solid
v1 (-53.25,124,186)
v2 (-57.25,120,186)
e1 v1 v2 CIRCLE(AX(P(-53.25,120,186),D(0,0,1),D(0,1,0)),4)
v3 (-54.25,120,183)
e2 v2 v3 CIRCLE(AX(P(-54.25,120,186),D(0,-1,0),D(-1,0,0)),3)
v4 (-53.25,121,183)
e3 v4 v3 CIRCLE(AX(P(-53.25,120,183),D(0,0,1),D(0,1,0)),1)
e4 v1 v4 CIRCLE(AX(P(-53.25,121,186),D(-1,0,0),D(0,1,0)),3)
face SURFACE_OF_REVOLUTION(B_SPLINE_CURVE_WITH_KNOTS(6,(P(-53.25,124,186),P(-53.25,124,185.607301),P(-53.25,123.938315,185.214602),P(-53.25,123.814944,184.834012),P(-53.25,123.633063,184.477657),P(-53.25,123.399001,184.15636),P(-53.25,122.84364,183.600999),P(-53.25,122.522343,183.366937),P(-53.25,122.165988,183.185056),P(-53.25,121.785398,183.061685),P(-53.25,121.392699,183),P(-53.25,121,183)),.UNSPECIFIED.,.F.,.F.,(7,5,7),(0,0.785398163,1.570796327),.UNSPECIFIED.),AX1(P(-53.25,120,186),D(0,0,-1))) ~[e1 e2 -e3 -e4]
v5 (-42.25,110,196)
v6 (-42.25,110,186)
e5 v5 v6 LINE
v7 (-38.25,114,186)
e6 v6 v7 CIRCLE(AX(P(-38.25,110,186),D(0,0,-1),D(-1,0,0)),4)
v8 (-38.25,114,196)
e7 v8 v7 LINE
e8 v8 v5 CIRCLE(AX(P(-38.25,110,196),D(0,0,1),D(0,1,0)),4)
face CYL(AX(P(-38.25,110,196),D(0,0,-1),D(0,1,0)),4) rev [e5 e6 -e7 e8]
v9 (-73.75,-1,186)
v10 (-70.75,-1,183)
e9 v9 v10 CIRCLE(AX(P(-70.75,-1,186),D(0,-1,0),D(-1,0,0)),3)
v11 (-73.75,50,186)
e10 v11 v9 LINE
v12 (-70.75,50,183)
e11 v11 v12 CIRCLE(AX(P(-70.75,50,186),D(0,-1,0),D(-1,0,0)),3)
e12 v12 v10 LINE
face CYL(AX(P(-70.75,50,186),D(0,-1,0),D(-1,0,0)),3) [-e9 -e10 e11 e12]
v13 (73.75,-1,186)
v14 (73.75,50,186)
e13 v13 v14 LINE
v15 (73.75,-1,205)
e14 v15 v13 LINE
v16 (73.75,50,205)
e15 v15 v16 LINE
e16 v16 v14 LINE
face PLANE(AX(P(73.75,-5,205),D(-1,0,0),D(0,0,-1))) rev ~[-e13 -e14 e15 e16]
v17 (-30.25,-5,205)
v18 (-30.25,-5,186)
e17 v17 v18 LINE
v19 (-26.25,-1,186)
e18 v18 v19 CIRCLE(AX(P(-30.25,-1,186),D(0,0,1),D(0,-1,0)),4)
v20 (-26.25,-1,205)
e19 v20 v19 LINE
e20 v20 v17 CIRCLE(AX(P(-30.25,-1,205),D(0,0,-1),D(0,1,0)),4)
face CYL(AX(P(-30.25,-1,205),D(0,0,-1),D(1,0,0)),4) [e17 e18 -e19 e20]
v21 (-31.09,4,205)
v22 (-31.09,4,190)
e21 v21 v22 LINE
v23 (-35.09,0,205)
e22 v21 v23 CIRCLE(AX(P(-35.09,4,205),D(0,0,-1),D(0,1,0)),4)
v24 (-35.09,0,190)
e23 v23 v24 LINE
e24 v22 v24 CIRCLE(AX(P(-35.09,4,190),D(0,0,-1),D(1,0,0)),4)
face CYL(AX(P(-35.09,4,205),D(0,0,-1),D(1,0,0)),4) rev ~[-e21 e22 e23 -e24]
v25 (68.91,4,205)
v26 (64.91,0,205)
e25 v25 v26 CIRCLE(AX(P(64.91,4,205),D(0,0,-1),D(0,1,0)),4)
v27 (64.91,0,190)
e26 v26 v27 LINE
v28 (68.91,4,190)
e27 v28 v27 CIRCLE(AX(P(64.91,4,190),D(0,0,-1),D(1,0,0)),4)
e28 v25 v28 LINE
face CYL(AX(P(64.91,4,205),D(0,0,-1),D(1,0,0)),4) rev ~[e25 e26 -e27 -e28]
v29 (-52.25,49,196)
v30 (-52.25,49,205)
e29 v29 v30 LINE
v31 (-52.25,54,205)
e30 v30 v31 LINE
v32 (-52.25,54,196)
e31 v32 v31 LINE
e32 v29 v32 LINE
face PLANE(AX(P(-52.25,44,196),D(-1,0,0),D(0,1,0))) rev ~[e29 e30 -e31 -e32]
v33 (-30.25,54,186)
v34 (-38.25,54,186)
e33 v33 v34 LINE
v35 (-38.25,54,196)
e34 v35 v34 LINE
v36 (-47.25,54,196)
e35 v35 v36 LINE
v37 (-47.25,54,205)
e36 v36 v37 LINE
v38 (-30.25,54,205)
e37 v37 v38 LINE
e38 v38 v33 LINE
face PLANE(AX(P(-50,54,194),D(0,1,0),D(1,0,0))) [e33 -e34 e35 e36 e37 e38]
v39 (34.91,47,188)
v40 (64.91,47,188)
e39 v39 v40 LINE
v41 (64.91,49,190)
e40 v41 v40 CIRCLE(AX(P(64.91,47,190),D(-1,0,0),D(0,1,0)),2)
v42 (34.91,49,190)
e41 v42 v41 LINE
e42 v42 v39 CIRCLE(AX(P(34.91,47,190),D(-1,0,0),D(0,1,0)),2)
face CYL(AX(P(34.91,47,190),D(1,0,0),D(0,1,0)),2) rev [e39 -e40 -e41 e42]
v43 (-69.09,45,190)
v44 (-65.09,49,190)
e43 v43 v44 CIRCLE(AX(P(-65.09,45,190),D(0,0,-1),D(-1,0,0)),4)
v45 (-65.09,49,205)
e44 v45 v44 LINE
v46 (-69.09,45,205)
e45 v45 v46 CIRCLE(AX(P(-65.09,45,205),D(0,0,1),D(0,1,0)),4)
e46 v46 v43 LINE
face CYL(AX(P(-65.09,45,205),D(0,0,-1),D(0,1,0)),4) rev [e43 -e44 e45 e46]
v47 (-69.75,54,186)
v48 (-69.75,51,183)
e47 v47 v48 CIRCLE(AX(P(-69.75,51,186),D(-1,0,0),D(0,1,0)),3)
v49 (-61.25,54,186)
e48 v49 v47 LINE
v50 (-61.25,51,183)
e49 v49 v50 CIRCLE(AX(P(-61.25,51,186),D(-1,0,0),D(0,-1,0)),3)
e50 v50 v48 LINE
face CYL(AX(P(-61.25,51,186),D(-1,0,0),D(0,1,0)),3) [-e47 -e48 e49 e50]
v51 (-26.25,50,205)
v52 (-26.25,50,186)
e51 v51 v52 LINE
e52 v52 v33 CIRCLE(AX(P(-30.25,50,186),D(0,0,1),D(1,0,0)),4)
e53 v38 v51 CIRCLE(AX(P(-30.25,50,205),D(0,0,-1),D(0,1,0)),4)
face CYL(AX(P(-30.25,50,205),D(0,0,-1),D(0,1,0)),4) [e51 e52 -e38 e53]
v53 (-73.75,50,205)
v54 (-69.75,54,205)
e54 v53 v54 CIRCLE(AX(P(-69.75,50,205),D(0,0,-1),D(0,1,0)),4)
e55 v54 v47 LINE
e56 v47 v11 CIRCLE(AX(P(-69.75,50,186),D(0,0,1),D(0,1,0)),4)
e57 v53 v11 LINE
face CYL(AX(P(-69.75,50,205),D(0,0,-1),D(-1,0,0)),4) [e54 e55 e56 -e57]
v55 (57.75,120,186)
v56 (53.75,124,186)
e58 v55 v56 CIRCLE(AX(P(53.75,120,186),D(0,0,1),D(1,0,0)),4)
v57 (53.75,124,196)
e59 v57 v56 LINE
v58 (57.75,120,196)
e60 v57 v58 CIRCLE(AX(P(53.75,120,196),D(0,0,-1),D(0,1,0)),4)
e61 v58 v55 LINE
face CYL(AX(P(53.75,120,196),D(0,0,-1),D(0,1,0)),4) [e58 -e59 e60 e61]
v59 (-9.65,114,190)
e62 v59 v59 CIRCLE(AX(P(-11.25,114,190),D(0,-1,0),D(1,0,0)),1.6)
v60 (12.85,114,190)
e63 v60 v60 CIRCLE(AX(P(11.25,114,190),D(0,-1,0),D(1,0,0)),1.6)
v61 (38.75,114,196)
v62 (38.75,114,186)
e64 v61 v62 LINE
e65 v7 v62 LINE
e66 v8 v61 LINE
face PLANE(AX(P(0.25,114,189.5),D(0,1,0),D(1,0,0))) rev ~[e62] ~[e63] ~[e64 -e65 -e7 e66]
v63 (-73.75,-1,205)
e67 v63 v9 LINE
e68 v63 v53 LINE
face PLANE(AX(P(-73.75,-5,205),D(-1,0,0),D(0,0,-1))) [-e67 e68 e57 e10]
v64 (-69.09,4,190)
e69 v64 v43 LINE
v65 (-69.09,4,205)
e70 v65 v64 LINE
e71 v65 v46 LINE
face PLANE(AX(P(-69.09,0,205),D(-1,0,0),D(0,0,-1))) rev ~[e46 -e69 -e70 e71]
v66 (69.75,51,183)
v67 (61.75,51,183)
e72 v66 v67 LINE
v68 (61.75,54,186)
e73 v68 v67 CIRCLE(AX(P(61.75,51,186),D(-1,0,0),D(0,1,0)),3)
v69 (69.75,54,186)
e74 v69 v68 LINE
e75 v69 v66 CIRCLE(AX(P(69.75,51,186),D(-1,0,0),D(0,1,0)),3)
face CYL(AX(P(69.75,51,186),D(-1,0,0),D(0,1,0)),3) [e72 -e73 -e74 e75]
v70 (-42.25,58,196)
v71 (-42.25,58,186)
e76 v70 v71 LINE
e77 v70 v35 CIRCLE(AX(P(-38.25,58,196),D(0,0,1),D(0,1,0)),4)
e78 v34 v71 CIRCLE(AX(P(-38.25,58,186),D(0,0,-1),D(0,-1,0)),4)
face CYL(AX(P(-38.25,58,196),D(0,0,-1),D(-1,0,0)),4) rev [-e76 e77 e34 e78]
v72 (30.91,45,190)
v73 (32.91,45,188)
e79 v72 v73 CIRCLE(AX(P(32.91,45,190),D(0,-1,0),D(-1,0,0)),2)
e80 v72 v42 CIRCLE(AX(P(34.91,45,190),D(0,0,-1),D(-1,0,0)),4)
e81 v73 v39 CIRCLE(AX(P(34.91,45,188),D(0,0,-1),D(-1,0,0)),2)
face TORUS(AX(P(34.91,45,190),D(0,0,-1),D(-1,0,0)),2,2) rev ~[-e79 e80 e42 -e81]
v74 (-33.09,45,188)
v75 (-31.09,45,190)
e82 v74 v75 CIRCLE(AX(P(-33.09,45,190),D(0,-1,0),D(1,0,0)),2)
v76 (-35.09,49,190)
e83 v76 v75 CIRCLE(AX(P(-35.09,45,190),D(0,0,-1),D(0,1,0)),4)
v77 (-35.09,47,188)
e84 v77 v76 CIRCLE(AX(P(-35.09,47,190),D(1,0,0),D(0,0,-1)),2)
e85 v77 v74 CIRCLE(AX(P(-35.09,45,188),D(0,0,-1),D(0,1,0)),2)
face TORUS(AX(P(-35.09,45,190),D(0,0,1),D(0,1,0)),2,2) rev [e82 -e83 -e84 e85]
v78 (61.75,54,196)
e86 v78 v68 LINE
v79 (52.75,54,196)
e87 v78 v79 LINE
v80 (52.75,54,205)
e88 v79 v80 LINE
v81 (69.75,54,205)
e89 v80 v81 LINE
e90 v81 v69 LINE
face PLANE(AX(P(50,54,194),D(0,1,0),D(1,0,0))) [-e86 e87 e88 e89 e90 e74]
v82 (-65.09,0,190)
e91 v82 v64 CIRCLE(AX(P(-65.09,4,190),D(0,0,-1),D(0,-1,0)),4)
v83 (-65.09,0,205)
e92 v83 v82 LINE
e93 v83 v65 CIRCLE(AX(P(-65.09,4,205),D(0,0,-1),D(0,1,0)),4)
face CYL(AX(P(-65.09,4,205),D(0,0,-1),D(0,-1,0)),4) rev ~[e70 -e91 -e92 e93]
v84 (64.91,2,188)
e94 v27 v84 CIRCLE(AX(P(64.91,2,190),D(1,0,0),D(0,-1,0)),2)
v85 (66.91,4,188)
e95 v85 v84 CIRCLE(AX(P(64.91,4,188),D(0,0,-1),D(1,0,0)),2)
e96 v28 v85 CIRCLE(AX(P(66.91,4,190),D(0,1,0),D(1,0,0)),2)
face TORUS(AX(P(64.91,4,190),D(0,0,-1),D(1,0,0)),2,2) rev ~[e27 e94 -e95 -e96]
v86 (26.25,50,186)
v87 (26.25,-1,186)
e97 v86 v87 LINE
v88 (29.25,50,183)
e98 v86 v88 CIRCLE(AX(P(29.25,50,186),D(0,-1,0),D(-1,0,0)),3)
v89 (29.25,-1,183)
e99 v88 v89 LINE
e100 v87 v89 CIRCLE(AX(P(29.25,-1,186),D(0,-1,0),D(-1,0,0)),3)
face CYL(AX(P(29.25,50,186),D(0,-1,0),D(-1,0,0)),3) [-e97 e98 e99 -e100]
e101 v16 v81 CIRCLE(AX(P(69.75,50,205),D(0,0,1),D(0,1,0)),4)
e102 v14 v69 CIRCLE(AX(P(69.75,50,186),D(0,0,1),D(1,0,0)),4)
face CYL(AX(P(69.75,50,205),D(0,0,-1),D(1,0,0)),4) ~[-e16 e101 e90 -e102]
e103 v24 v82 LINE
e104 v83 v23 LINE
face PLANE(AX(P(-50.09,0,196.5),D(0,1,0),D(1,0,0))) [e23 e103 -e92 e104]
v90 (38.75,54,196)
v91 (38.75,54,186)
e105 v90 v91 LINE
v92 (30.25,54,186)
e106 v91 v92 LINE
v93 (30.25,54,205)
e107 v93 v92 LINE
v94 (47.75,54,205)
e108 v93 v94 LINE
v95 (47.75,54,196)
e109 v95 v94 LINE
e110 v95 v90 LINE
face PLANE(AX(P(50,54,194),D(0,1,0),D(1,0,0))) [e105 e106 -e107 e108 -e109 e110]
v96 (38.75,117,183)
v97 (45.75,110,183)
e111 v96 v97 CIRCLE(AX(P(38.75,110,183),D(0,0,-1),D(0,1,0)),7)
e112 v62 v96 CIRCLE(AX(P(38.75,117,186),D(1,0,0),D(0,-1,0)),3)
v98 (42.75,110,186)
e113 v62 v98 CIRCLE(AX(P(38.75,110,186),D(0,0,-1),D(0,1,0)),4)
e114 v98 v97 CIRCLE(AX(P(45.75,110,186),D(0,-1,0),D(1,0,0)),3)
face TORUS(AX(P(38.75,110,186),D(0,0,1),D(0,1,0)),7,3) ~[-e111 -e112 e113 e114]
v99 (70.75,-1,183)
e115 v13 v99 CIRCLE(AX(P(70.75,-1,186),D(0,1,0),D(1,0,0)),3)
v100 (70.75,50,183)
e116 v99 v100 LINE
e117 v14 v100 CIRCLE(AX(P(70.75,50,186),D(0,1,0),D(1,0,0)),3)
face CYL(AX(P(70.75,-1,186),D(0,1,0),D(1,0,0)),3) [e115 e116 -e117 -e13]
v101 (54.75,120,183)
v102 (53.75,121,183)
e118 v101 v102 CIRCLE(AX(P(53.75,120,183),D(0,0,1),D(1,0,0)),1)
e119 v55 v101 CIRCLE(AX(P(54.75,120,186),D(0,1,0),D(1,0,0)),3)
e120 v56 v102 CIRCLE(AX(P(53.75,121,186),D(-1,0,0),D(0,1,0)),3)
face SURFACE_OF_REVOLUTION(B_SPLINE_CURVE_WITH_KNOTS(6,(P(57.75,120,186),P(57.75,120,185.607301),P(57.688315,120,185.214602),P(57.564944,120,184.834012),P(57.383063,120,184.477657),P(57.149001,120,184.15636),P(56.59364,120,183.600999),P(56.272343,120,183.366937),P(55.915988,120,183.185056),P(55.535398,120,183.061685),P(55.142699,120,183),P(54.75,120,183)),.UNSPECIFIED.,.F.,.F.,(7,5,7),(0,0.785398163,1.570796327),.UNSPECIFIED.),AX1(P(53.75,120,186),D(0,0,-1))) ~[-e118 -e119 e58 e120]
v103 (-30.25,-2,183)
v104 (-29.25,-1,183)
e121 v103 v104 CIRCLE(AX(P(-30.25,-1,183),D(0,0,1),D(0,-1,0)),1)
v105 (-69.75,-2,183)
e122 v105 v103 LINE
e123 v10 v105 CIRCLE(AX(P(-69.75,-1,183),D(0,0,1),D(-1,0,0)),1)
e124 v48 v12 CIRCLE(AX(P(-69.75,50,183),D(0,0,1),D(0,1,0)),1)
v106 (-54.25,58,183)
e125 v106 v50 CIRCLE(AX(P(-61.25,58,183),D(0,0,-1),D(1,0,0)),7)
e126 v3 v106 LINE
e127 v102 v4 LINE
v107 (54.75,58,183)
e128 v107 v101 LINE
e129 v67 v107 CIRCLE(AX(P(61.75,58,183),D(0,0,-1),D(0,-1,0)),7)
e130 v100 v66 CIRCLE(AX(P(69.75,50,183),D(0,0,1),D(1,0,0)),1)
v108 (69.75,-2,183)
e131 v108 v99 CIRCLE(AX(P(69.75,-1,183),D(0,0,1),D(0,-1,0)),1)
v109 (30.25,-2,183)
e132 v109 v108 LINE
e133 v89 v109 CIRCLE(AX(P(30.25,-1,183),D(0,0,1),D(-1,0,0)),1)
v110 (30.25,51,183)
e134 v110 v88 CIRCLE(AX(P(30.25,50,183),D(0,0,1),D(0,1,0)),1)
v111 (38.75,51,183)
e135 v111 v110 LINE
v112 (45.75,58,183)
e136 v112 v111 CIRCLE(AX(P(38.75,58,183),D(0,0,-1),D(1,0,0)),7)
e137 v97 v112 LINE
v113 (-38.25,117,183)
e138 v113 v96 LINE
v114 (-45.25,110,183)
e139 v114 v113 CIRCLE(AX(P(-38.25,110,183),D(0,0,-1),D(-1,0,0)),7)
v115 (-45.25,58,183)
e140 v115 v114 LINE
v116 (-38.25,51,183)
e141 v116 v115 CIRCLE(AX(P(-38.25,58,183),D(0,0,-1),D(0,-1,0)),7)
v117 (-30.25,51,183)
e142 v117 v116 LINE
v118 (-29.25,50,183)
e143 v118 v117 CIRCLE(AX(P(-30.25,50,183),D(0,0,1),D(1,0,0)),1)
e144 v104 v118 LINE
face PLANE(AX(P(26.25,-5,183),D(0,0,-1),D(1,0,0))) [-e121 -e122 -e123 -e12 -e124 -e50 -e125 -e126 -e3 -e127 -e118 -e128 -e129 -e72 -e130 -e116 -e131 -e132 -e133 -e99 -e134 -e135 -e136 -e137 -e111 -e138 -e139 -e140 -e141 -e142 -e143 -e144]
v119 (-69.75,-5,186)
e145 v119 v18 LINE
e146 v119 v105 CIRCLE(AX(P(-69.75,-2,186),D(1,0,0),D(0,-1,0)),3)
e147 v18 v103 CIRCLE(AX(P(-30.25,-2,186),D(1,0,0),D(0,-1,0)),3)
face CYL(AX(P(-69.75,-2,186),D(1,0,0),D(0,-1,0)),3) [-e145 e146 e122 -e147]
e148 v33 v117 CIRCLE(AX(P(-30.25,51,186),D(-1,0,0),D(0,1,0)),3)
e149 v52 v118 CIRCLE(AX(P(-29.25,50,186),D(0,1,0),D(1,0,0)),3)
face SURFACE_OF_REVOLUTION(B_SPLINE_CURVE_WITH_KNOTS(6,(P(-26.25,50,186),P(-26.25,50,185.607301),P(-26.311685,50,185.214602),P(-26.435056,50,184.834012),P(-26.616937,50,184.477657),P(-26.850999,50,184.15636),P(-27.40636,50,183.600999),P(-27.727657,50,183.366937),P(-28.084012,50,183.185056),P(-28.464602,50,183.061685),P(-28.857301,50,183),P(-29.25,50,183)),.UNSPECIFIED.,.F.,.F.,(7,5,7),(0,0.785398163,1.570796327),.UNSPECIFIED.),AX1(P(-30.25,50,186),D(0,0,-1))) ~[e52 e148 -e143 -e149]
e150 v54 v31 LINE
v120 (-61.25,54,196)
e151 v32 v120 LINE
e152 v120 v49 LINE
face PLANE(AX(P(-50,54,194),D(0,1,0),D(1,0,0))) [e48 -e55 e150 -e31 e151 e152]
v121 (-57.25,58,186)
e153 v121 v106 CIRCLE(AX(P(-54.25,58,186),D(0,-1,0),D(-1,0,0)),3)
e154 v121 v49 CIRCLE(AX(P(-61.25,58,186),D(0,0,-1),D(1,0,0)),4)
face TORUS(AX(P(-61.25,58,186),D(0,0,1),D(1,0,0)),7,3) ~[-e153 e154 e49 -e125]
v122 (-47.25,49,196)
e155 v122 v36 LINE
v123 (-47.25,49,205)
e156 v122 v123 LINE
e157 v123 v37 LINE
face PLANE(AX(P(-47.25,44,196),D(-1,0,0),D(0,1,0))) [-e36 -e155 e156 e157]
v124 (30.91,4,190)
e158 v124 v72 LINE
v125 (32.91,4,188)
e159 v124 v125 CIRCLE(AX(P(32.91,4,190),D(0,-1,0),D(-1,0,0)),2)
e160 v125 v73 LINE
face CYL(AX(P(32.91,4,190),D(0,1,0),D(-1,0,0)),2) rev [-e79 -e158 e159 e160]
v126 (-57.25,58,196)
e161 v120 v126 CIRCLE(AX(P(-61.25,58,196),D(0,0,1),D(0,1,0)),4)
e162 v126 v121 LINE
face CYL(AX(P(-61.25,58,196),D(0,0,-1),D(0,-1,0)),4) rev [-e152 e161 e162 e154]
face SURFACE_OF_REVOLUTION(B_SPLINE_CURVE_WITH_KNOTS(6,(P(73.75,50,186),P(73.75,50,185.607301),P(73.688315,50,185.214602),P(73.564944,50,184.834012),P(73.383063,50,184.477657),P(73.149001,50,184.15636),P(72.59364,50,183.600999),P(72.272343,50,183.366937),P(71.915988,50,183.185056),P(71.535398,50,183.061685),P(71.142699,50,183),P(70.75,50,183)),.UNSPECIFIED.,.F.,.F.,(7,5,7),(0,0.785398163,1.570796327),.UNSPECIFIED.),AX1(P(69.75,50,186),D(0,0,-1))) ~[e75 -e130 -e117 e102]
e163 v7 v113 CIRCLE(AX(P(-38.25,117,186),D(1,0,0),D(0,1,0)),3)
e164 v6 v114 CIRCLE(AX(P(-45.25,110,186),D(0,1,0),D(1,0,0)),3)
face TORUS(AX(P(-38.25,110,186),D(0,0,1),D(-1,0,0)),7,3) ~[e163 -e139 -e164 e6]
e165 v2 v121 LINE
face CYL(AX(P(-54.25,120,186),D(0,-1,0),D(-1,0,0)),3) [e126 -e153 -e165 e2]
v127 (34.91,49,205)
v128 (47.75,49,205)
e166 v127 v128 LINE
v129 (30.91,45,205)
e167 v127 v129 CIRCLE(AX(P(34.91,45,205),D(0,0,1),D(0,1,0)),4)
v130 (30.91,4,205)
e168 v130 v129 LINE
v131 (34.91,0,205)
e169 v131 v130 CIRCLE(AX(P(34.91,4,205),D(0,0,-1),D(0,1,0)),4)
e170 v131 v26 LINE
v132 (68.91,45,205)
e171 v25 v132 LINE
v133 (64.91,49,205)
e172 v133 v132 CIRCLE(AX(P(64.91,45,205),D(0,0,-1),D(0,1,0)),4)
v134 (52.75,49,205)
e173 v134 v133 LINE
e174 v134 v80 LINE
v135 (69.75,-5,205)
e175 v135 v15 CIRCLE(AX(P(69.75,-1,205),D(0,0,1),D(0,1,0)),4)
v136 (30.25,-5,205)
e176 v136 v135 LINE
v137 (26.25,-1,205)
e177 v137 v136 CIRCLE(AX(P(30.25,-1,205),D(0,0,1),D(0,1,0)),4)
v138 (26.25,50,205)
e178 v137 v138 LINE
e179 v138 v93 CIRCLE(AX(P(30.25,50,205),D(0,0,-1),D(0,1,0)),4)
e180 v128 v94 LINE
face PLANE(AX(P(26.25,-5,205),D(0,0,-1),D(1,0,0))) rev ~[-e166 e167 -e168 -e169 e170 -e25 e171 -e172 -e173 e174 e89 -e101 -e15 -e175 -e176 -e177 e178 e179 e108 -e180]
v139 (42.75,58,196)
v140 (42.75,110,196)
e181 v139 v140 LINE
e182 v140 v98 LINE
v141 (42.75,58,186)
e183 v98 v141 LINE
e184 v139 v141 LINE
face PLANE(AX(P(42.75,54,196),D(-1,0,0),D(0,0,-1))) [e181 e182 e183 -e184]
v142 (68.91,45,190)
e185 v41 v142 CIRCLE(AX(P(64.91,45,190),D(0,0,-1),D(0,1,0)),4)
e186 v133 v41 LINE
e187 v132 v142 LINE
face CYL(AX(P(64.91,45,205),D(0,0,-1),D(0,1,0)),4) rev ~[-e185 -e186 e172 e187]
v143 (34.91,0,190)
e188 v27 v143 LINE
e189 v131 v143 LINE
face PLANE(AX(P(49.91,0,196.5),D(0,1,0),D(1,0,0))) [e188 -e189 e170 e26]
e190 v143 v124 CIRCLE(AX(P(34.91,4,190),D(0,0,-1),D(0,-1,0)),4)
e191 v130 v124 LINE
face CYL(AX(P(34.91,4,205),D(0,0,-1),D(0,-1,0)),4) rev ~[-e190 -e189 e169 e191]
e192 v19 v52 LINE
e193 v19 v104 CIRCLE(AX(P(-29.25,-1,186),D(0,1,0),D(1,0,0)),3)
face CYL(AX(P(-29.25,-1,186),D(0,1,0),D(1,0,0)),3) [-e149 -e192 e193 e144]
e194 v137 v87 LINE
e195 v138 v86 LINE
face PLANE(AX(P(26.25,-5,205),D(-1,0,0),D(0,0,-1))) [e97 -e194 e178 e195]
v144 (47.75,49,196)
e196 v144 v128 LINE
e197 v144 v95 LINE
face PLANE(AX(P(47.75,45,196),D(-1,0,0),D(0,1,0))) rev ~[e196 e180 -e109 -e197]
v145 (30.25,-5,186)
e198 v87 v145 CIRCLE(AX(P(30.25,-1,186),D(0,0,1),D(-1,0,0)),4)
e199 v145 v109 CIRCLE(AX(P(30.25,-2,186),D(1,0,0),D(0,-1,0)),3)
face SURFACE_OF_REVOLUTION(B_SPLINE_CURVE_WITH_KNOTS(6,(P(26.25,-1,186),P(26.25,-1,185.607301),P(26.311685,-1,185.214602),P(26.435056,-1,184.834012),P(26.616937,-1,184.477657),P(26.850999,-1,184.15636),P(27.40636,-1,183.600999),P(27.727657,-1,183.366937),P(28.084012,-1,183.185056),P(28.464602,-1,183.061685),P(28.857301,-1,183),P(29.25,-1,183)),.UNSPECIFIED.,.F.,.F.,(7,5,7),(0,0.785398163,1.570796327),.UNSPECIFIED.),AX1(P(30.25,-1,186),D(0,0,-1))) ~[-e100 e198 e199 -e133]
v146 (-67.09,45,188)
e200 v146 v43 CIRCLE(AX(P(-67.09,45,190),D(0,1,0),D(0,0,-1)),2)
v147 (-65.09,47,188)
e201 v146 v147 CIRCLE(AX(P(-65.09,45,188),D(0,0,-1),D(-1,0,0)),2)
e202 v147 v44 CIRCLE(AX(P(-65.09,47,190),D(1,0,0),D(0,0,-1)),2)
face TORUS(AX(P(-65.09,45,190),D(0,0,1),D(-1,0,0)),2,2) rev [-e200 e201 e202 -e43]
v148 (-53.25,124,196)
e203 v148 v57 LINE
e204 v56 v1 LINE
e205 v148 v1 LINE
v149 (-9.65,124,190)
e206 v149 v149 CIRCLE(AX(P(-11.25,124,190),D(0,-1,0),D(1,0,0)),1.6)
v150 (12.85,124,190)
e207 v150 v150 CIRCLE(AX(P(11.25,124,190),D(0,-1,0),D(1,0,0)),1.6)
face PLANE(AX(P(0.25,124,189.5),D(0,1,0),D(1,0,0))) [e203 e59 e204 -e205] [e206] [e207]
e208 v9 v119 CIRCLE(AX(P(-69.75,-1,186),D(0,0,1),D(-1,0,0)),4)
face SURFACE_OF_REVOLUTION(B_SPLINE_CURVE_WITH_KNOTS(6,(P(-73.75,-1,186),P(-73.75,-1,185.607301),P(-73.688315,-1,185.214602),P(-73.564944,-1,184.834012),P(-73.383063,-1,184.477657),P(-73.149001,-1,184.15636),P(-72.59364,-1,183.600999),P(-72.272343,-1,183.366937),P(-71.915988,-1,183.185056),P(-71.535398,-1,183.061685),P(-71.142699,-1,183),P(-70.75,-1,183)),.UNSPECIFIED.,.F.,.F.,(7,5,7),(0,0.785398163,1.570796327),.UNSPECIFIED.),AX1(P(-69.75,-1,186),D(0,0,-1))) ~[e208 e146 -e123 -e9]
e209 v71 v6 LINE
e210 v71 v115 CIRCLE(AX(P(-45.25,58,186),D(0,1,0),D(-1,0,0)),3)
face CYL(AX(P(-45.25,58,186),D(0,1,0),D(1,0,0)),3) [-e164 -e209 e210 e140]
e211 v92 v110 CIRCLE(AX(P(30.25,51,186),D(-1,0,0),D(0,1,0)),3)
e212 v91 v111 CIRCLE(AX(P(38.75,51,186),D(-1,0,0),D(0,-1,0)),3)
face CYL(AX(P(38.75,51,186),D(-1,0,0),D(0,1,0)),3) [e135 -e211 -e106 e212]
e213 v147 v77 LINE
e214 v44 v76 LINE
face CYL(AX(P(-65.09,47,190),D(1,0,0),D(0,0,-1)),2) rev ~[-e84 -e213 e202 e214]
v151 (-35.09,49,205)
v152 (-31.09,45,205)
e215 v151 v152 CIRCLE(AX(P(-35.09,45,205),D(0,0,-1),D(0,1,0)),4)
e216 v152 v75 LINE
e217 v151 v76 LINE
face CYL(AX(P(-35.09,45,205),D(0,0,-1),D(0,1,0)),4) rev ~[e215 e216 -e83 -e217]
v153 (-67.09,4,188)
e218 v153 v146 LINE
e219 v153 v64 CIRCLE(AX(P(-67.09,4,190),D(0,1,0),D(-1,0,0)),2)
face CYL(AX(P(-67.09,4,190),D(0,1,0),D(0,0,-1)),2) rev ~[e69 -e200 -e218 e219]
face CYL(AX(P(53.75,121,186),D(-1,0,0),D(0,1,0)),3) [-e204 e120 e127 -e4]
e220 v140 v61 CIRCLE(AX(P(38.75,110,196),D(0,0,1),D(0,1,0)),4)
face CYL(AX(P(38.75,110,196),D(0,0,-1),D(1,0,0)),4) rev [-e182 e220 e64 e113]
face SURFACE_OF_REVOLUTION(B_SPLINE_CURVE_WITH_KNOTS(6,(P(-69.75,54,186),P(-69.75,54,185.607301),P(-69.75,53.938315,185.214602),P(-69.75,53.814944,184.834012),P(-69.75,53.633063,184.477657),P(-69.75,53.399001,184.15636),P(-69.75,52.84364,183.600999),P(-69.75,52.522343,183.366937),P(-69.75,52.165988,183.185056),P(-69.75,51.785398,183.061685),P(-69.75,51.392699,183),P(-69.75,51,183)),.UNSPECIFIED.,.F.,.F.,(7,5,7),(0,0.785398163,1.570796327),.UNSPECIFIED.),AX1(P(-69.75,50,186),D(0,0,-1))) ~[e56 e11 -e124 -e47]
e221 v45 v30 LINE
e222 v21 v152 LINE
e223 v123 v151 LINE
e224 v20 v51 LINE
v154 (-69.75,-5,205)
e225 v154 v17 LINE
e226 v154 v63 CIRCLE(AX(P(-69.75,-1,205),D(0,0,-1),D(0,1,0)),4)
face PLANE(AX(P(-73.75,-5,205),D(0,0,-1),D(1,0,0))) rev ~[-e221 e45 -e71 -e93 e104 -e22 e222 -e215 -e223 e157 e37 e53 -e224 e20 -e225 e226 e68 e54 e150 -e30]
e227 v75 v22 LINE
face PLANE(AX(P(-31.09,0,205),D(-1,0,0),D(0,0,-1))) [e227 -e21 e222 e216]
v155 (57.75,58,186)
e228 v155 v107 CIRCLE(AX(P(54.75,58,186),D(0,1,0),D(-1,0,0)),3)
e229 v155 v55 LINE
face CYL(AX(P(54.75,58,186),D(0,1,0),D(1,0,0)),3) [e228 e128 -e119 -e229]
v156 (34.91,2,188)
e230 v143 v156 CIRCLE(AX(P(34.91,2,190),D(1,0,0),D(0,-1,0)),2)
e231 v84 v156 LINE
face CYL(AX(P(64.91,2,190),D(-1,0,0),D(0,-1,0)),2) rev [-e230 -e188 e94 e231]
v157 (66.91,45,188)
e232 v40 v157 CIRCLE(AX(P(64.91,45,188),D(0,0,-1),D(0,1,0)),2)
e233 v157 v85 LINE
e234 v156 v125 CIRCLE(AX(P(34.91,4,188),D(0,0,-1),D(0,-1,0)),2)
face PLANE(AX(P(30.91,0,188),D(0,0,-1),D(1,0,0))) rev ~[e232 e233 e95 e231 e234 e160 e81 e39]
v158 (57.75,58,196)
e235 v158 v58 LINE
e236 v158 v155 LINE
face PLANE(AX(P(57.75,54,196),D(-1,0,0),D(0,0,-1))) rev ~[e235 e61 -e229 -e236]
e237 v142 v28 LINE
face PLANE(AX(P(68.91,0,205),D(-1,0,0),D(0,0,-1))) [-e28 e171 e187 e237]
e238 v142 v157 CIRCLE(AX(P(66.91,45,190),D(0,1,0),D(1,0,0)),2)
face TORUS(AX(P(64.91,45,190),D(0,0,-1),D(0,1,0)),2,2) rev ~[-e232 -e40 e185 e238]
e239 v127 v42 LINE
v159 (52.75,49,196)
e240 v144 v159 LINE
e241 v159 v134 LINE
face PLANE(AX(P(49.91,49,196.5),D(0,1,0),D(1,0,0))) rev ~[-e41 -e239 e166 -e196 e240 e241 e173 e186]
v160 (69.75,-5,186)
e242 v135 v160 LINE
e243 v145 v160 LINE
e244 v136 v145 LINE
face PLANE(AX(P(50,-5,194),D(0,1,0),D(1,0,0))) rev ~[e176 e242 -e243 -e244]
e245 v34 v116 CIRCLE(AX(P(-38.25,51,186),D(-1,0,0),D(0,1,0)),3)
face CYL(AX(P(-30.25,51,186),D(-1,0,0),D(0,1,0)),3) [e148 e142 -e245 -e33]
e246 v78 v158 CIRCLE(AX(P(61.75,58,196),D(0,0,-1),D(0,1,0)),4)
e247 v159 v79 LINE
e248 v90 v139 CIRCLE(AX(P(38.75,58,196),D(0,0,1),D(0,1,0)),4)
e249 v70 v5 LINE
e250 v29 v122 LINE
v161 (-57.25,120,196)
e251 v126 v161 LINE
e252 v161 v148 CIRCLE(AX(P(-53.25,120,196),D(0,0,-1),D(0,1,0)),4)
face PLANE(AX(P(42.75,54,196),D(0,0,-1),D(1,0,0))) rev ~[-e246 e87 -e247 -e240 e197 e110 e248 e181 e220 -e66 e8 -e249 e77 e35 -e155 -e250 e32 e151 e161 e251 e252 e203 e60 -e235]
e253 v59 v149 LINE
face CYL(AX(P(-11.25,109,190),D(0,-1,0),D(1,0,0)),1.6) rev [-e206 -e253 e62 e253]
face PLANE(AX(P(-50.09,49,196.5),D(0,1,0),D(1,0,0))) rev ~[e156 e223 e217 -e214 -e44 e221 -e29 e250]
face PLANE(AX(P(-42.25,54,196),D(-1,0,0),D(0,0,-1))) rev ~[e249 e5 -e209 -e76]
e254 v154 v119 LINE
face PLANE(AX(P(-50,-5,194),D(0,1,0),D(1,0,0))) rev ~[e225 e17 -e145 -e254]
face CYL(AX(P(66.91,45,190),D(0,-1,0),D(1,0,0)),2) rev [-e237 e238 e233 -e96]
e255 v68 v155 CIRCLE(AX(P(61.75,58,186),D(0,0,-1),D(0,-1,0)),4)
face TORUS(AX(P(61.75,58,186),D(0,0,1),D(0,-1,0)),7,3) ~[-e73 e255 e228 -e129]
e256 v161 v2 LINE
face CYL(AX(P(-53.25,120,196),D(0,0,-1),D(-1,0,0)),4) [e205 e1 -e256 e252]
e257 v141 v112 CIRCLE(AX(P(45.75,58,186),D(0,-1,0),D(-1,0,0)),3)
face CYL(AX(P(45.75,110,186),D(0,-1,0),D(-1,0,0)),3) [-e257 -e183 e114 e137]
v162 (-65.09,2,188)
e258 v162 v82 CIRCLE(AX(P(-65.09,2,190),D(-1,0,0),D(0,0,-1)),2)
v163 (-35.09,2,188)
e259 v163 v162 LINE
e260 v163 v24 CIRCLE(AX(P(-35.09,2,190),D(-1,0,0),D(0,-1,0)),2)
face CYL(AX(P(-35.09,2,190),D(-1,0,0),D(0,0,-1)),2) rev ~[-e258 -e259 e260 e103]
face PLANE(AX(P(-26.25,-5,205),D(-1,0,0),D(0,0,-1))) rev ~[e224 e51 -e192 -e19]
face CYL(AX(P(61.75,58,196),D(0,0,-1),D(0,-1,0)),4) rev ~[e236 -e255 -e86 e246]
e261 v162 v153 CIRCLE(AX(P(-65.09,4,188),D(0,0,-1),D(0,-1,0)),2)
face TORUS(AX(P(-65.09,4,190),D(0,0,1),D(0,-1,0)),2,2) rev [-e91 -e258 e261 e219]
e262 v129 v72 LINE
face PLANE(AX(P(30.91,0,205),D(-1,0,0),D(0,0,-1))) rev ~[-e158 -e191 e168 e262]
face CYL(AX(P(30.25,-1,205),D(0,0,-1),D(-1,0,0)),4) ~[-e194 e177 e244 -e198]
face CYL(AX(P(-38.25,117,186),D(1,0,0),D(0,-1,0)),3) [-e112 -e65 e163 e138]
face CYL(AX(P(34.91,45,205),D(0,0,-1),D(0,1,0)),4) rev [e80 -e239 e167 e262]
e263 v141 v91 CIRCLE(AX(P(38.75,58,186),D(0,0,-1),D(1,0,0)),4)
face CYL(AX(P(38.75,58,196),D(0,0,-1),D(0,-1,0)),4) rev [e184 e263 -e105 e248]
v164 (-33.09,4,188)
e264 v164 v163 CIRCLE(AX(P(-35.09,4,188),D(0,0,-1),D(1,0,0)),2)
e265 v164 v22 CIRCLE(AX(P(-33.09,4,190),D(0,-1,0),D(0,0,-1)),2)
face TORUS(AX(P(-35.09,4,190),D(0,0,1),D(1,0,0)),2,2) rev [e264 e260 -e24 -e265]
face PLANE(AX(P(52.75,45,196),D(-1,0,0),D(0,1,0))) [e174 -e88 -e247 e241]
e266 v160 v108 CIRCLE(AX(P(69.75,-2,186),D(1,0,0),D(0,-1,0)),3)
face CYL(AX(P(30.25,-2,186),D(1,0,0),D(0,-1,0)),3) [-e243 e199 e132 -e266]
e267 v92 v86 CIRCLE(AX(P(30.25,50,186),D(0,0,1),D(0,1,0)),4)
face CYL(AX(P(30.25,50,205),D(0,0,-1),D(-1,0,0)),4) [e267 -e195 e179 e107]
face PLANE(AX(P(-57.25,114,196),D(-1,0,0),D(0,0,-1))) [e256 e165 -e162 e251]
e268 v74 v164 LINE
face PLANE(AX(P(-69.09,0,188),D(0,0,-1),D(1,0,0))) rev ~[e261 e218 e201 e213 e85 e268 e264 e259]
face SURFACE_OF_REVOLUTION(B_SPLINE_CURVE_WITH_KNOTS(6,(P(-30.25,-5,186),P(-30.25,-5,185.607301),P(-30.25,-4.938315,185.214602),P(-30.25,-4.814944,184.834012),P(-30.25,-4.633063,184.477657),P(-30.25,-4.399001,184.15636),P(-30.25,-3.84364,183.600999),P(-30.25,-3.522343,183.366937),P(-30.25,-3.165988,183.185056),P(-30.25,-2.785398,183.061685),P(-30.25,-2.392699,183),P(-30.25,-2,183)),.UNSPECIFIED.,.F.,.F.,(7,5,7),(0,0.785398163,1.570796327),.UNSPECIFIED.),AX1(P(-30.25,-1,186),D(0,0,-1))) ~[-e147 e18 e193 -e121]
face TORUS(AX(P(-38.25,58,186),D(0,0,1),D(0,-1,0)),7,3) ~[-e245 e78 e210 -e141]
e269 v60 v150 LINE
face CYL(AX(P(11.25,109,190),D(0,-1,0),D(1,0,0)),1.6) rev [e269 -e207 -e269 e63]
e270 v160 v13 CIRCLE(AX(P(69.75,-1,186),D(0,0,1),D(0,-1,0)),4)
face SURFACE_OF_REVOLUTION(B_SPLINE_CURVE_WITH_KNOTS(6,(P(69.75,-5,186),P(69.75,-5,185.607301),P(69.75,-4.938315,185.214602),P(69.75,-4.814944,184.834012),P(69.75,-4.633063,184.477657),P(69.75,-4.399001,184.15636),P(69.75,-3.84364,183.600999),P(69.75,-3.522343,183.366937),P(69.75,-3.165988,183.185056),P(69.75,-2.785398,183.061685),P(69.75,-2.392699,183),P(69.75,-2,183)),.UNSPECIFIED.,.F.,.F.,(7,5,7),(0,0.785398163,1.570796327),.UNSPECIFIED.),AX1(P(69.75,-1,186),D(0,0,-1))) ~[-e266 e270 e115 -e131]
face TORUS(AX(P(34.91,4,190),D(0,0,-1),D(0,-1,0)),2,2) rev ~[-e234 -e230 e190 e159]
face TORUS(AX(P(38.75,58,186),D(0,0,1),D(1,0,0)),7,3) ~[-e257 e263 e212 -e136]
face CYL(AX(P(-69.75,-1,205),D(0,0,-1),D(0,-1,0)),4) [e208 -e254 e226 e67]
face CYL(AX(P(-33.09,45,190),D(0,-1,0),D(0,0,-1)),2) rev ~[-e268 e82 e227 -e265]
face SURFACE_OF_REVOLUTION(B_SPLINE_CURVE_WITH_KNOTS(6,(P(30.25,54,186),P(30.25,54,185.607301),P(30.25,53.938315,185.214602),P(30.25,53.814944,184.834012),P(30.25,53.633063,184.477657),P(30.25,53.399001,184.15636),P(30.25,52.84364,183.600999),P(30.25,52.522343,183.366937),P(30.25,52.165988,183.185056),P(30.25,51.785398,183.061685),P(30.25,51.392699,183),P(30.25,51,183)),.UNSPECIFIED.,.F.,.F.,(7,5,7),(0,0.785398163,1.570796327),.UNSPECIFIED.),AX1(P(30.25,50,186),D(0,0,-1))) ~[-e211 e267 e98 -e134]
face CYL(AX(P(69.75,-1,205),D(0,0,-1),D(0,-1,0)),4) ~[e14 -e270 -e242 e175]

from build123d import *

# Parameters (mm, degrees)
SKETCH029_W               = 5
SKETCH029_H               = 10
SKETCH029_H_2             = 9
EXTRUDE028_DEPTH          = 10
CYLINDER056_R             = 1.6
CYLINDER056_DEPTH         = 20
CYLINDER057_R             = 1.6
CYLINDER057_DEPTH         = 20
CYLINDER058_R             = 1.6
CYLINDER058_DEPTH         = 20
CYLINDER055_R             = 1.6
CYLINDER055_DEPTH         = 20
BOX060_W                  = 38
BOX060_H                  = 17
BOX060_DEPTH              = 49
BOX061_W                  = 47.5
BOX061_H                  = 22
BOX061_DEPTH              = 59
BOX062_W                  = 38
BOX062_H                  = 17
BOX062_DEPTH              = 49
BOX063_W                  = 47.5
BOX063_H                  = 22
BOX063_DEPTH              = 59
BOX011_W                  = 115
BOX011_H                  = 13
BOX011_DEPTH              = 10
BOX012_W                  = 15
BOX012_H                  = 13
BOX012_DEPTH              = 60
BOX009_W                  = 15
BOX009_H                  = 13
BOX009_DEPTH              = 60
FILLET031_R               = 4
FILLET032_R               = 2
FILLET033_R               = 3
FILLET033_PLACEMENT_ANGLE = 270


with BuildPart() as extrude028:
    # Sketch029 → Extrude028 (new body)
    with BuildSketch(Plane.XZ.offset(48)):
        with Locations((19, 4)):
            Rectangle(SKETCH029_W, SKETCH029_H)
        with Locations((119, 4.5)):
            Rectangle(SKETCH029_W, SKETCH029_H_2)
    extrude(amount=EXTRUDE028_DEPTH)


with BuildPart() as extrude028_1:
    # Extrude028 placement: moved
    add(extrude028.part.moved(Location((0, 57, 45))))


with BuildPart() as cylinder056:
    # Cylinder056 → Cylinder056 (new body)
    with BuildSketch(Plane(origin=(80, 15, 109), x_dir=(1, 0, 0), z_dir=(0, 0, 1))):
        Circle(CYLINDER056_R)
    extrude(amount=CYLINDER056_DEPTH)


with BuildPart() as cylinder057:
    # Cylinder057 → Cylinder057 (new body)
    with BuildSketch(Plane(origin=(57.5, 32, 109), x_dir=(1, 0, 0), z_dir=(0, 0, 1))):
        Circle(CYLINDER057_R)
    extrude(amount=CYLINDER057_DEPTH)


with BuildPart() as cylinder058:
    # Cylinder058 → Cylinder058 (new body)
    with BuildSketch(Plane(origin=(80, 32, 109), x_dir=(1, 0, 0), z_dir=(0, 0, 1))):
        Circle(CYLINDER058_R)
    extrude(amount=CYLINDER058_DEPTH)


with BuildPart() as m3_cyl:
    # Cylinder055 → Cylinder055 (new body)
    with BuildSketch(Plane(origin=(57.5, 15, 109), x_dir=(1, 0, 0), z_dir=(0, 0, 1))):
        Circle(CYLINDER055_R)
    extrude(amount=CYLINDER055_DEPTH)

    # Fusion042: union Cylinder056, Cylinder057, Cylinder058
    add(cylinder056.part)
    add(cylinder057.part)
    add(cylinder058.part)


with BuildPart() as cube035:
    # Box060 → Box060 (new body)
    with BuildSketch(Plane(origin=(-0.34, 0, 0), x_dir=(1, 0, 0), z_dir=(0, 0, 1))):
        with Locations((19, 8.5)):
            Rectangle(BOX060_W, BOX060_H)
    extrude(amount=BOX060_DEPTH)


with BuildPart() as hollow_cubebase:
    # Box061 → Box061 (new body)
    with BuildSketch(Plane(origin=(-5, 0, -5), x_dir=(1, 0, 0), z_dir=(0, 0, 1))):
        with Locations((23.75, 11)):
            Rectangle(BOX061_W, BOX061_H)
    extrude(amount=BOX061_DEPTH)

    # Cut043: cut Cube035
    add(cube035.part, mode=Mode.SUBTRACT)


with BuildPart() as cube006:
    # Box062 → Box062 (new body)
    with BuildSketch(Plane(origin=(-0.34, 0, 0), x_dir=(1, 0, 0), z_dir=(0, 0, 1))):
        with Locations((19, 8.5)):
            Rectangle(BOX062_W, BOX062_H)
    extrude(amount=BOX062_DEPTH)


with BuildPart() as hollow_cubebase001:
    # Box063 → Box063 (new body)
    with BuildSketch(Plane(origin=(-5, 0, -5), x_dir=(1, 0, 0), z_dir=(0, 0, 1))):
        with Locations((23.75, 11)):
            Rectangle(BOX063_W, BOX063_H)
    extrude(amount=BOX063_DEPTH)

    # Cut044: cut Cube006
    add(cube006.part, mode=Mode.SUBTRACT)


with BuildPart() as hollow_cubebase001_1:
    # Cut044 placement: moved
    add(hollow_cubebase001.part.moved(Location((100, 0, 0))))


with BuildPart() as base001:
    # Box011 → Box011 (new body)
    with BuildSketch(Plane(origin=(11.5, 9, 114), x_dir=(1, 0, 0), z_dir=(0, 0, 1))):
        with Locations((57.5, 6.5)):
            Rectangle(BOX011_W, BOX011_H)
    extrude(amount=BOX011_DEPTH)


with BuildPart() as stand002:
    # Box012 → Box012 (new body)
    with BuildSketch(Plane(origin=(111.5, 9, 54), x_dir=(1, 0, 0), z_dir=(0, 0, 1))):
        with Locations((7.5, 6.5)):
            Rectangle(BOX012_W, BOX012_H)
    extrude(amount=BOX012_DEPTH)


with BuildPart() as gpsholder005:
    # Box009 → Box009 (new body)
    with BuildSketch(Plane(origin=(11.5, 9, 54), x_dir=(1, 0, 0), z_dir=(0, 0, 1))):
        with Locations((7.5, 6.5)):
            Rectangle(BOX009_W, BOX009_H)
    extrude(amount=BOX009_DEPTH)

    # Fusion005: union base001, stand002
    add(base001.part)
    add(stand002.part)

    # Fusion041: union Hollow_CubeBase, Hollow_CubeBase001
    add(hollow_cubebase.part)
    add(hollow_cubebase001_1.part)

    # Cut045: cut m3_cyl
    add(m3_cyl.part, mode=Mode.SUBTRACT)

    # Cut046: cut Extrude028
    add(extrude028_1.part, mode=Mode.SUBTRACT)

    # Fillet031
    fillet031_edges = [gpsholder005.edges().sort_by_distance(p)[0] for p in [
        (11.5, 15.5, 124),
        (126.5, 15.5, 124),
        (11.5, 15.5, 54),
        (126.5, 15.5, 54),
        (-5, 11, 54),
        (111.5, 15.5, 114),
        (111.5, 15.5, 54),
        (26.5, 15.5, 114),
        (26.5, 15.5, 54),
        (42.5, 11, 54),
        (95, 11, 54),
        (142.5, 11, 54),
        (-5, 11, -5),
        (42.5, 11, -5),
        (95, 11, -5),
        (142.5, 11, -5),
        (-0.34, 8.5, 49),
        (37.66, 8.5, 49),
        (99.66, 8.5, 49),
        (137.66, 8.5, 49),
        (37.66, 8.5, 0),
        (-0.34, 8.5, 0),
        (137.66, 8.5, 0),
        (99.66, 8.5, 0),
    ]]
    fillet(fillet031_edges, radius=FILLET031_R)

    # Fillet032
    fillet032_edges = [gpsholder005.edges().sort_by_distance(p)[0] for p in [
        (18.66, 17, 49),
        (118.66, 17, 49),
        (36.488427, 17, 47.828427),
        (37.66, 17, 24.5),
        (36.488427, 17, 1.171573),
        (18.66, 17, 0),
        (0.831573, 17, 47.828427),
        (0.831573, 17, 1.171573),
        (-0.34, 17, 24.5),
        (136.488427, 17, 47.828427),
        (137.66, 17, 24.5),
        (136.488427, 17, 1.171573),
        (118.66, 17, 0),
        (100.831573, 17, 47.828427),
        (100.831573, 17, 1.171573),
        (99.66, 17, 24.5),
    ]]
    fillet(fillet032_edges, radius=FILLET032_R)

    # Fillet033
    fillet033_edges = [gpsholder005.edges().sort_by_distance(p)[0] for p in [
        (42.5, 22, 24.5),
        (41.328427, 22, -3.828427),
        (41.328427, 22, 52.828427),
        (18.75, 22, -5),
        (34.5, 22, 54),
        (-3.828427, 22, -3.828427),
        (-5, 22, 24.5),
        (-3.828427, 22, 52.828427),
        (3.25, 22, 54),
        (9.5, 22, 54),
        (28.5, 22, 54),
        (19, 22, 54),
        (103.25, 22, 54),
        (134.5, 22, 54),
        (128.5, 22, 54),
        (119, 22, 54),
        (109.5, 22, 54),
        (118.75, 22, -5),
        (96.171573, 22, -3.828427),
        (141.328427, 22, -3.828427),
        (95, 22, 24.5),
        (142.5, 22, 24.5),
        (96.171573, 22, 52.828427),
        (141.328427, 22, 52.828427),
    ]]
    fillet(fillet033_edges, radius=FILLET033_R)


with BuildPart() as gpsholder005_1:
    # Fillet033 placement: moved
    add(gpsholder005.part.moved(Location((-68.75, 0, 205))).rotate(Axis((-68.75, 0, 205), (1, 0, 0)), FILLET033_PLACEMENT_ANGLE))


solid = gpsholder005_1.part
